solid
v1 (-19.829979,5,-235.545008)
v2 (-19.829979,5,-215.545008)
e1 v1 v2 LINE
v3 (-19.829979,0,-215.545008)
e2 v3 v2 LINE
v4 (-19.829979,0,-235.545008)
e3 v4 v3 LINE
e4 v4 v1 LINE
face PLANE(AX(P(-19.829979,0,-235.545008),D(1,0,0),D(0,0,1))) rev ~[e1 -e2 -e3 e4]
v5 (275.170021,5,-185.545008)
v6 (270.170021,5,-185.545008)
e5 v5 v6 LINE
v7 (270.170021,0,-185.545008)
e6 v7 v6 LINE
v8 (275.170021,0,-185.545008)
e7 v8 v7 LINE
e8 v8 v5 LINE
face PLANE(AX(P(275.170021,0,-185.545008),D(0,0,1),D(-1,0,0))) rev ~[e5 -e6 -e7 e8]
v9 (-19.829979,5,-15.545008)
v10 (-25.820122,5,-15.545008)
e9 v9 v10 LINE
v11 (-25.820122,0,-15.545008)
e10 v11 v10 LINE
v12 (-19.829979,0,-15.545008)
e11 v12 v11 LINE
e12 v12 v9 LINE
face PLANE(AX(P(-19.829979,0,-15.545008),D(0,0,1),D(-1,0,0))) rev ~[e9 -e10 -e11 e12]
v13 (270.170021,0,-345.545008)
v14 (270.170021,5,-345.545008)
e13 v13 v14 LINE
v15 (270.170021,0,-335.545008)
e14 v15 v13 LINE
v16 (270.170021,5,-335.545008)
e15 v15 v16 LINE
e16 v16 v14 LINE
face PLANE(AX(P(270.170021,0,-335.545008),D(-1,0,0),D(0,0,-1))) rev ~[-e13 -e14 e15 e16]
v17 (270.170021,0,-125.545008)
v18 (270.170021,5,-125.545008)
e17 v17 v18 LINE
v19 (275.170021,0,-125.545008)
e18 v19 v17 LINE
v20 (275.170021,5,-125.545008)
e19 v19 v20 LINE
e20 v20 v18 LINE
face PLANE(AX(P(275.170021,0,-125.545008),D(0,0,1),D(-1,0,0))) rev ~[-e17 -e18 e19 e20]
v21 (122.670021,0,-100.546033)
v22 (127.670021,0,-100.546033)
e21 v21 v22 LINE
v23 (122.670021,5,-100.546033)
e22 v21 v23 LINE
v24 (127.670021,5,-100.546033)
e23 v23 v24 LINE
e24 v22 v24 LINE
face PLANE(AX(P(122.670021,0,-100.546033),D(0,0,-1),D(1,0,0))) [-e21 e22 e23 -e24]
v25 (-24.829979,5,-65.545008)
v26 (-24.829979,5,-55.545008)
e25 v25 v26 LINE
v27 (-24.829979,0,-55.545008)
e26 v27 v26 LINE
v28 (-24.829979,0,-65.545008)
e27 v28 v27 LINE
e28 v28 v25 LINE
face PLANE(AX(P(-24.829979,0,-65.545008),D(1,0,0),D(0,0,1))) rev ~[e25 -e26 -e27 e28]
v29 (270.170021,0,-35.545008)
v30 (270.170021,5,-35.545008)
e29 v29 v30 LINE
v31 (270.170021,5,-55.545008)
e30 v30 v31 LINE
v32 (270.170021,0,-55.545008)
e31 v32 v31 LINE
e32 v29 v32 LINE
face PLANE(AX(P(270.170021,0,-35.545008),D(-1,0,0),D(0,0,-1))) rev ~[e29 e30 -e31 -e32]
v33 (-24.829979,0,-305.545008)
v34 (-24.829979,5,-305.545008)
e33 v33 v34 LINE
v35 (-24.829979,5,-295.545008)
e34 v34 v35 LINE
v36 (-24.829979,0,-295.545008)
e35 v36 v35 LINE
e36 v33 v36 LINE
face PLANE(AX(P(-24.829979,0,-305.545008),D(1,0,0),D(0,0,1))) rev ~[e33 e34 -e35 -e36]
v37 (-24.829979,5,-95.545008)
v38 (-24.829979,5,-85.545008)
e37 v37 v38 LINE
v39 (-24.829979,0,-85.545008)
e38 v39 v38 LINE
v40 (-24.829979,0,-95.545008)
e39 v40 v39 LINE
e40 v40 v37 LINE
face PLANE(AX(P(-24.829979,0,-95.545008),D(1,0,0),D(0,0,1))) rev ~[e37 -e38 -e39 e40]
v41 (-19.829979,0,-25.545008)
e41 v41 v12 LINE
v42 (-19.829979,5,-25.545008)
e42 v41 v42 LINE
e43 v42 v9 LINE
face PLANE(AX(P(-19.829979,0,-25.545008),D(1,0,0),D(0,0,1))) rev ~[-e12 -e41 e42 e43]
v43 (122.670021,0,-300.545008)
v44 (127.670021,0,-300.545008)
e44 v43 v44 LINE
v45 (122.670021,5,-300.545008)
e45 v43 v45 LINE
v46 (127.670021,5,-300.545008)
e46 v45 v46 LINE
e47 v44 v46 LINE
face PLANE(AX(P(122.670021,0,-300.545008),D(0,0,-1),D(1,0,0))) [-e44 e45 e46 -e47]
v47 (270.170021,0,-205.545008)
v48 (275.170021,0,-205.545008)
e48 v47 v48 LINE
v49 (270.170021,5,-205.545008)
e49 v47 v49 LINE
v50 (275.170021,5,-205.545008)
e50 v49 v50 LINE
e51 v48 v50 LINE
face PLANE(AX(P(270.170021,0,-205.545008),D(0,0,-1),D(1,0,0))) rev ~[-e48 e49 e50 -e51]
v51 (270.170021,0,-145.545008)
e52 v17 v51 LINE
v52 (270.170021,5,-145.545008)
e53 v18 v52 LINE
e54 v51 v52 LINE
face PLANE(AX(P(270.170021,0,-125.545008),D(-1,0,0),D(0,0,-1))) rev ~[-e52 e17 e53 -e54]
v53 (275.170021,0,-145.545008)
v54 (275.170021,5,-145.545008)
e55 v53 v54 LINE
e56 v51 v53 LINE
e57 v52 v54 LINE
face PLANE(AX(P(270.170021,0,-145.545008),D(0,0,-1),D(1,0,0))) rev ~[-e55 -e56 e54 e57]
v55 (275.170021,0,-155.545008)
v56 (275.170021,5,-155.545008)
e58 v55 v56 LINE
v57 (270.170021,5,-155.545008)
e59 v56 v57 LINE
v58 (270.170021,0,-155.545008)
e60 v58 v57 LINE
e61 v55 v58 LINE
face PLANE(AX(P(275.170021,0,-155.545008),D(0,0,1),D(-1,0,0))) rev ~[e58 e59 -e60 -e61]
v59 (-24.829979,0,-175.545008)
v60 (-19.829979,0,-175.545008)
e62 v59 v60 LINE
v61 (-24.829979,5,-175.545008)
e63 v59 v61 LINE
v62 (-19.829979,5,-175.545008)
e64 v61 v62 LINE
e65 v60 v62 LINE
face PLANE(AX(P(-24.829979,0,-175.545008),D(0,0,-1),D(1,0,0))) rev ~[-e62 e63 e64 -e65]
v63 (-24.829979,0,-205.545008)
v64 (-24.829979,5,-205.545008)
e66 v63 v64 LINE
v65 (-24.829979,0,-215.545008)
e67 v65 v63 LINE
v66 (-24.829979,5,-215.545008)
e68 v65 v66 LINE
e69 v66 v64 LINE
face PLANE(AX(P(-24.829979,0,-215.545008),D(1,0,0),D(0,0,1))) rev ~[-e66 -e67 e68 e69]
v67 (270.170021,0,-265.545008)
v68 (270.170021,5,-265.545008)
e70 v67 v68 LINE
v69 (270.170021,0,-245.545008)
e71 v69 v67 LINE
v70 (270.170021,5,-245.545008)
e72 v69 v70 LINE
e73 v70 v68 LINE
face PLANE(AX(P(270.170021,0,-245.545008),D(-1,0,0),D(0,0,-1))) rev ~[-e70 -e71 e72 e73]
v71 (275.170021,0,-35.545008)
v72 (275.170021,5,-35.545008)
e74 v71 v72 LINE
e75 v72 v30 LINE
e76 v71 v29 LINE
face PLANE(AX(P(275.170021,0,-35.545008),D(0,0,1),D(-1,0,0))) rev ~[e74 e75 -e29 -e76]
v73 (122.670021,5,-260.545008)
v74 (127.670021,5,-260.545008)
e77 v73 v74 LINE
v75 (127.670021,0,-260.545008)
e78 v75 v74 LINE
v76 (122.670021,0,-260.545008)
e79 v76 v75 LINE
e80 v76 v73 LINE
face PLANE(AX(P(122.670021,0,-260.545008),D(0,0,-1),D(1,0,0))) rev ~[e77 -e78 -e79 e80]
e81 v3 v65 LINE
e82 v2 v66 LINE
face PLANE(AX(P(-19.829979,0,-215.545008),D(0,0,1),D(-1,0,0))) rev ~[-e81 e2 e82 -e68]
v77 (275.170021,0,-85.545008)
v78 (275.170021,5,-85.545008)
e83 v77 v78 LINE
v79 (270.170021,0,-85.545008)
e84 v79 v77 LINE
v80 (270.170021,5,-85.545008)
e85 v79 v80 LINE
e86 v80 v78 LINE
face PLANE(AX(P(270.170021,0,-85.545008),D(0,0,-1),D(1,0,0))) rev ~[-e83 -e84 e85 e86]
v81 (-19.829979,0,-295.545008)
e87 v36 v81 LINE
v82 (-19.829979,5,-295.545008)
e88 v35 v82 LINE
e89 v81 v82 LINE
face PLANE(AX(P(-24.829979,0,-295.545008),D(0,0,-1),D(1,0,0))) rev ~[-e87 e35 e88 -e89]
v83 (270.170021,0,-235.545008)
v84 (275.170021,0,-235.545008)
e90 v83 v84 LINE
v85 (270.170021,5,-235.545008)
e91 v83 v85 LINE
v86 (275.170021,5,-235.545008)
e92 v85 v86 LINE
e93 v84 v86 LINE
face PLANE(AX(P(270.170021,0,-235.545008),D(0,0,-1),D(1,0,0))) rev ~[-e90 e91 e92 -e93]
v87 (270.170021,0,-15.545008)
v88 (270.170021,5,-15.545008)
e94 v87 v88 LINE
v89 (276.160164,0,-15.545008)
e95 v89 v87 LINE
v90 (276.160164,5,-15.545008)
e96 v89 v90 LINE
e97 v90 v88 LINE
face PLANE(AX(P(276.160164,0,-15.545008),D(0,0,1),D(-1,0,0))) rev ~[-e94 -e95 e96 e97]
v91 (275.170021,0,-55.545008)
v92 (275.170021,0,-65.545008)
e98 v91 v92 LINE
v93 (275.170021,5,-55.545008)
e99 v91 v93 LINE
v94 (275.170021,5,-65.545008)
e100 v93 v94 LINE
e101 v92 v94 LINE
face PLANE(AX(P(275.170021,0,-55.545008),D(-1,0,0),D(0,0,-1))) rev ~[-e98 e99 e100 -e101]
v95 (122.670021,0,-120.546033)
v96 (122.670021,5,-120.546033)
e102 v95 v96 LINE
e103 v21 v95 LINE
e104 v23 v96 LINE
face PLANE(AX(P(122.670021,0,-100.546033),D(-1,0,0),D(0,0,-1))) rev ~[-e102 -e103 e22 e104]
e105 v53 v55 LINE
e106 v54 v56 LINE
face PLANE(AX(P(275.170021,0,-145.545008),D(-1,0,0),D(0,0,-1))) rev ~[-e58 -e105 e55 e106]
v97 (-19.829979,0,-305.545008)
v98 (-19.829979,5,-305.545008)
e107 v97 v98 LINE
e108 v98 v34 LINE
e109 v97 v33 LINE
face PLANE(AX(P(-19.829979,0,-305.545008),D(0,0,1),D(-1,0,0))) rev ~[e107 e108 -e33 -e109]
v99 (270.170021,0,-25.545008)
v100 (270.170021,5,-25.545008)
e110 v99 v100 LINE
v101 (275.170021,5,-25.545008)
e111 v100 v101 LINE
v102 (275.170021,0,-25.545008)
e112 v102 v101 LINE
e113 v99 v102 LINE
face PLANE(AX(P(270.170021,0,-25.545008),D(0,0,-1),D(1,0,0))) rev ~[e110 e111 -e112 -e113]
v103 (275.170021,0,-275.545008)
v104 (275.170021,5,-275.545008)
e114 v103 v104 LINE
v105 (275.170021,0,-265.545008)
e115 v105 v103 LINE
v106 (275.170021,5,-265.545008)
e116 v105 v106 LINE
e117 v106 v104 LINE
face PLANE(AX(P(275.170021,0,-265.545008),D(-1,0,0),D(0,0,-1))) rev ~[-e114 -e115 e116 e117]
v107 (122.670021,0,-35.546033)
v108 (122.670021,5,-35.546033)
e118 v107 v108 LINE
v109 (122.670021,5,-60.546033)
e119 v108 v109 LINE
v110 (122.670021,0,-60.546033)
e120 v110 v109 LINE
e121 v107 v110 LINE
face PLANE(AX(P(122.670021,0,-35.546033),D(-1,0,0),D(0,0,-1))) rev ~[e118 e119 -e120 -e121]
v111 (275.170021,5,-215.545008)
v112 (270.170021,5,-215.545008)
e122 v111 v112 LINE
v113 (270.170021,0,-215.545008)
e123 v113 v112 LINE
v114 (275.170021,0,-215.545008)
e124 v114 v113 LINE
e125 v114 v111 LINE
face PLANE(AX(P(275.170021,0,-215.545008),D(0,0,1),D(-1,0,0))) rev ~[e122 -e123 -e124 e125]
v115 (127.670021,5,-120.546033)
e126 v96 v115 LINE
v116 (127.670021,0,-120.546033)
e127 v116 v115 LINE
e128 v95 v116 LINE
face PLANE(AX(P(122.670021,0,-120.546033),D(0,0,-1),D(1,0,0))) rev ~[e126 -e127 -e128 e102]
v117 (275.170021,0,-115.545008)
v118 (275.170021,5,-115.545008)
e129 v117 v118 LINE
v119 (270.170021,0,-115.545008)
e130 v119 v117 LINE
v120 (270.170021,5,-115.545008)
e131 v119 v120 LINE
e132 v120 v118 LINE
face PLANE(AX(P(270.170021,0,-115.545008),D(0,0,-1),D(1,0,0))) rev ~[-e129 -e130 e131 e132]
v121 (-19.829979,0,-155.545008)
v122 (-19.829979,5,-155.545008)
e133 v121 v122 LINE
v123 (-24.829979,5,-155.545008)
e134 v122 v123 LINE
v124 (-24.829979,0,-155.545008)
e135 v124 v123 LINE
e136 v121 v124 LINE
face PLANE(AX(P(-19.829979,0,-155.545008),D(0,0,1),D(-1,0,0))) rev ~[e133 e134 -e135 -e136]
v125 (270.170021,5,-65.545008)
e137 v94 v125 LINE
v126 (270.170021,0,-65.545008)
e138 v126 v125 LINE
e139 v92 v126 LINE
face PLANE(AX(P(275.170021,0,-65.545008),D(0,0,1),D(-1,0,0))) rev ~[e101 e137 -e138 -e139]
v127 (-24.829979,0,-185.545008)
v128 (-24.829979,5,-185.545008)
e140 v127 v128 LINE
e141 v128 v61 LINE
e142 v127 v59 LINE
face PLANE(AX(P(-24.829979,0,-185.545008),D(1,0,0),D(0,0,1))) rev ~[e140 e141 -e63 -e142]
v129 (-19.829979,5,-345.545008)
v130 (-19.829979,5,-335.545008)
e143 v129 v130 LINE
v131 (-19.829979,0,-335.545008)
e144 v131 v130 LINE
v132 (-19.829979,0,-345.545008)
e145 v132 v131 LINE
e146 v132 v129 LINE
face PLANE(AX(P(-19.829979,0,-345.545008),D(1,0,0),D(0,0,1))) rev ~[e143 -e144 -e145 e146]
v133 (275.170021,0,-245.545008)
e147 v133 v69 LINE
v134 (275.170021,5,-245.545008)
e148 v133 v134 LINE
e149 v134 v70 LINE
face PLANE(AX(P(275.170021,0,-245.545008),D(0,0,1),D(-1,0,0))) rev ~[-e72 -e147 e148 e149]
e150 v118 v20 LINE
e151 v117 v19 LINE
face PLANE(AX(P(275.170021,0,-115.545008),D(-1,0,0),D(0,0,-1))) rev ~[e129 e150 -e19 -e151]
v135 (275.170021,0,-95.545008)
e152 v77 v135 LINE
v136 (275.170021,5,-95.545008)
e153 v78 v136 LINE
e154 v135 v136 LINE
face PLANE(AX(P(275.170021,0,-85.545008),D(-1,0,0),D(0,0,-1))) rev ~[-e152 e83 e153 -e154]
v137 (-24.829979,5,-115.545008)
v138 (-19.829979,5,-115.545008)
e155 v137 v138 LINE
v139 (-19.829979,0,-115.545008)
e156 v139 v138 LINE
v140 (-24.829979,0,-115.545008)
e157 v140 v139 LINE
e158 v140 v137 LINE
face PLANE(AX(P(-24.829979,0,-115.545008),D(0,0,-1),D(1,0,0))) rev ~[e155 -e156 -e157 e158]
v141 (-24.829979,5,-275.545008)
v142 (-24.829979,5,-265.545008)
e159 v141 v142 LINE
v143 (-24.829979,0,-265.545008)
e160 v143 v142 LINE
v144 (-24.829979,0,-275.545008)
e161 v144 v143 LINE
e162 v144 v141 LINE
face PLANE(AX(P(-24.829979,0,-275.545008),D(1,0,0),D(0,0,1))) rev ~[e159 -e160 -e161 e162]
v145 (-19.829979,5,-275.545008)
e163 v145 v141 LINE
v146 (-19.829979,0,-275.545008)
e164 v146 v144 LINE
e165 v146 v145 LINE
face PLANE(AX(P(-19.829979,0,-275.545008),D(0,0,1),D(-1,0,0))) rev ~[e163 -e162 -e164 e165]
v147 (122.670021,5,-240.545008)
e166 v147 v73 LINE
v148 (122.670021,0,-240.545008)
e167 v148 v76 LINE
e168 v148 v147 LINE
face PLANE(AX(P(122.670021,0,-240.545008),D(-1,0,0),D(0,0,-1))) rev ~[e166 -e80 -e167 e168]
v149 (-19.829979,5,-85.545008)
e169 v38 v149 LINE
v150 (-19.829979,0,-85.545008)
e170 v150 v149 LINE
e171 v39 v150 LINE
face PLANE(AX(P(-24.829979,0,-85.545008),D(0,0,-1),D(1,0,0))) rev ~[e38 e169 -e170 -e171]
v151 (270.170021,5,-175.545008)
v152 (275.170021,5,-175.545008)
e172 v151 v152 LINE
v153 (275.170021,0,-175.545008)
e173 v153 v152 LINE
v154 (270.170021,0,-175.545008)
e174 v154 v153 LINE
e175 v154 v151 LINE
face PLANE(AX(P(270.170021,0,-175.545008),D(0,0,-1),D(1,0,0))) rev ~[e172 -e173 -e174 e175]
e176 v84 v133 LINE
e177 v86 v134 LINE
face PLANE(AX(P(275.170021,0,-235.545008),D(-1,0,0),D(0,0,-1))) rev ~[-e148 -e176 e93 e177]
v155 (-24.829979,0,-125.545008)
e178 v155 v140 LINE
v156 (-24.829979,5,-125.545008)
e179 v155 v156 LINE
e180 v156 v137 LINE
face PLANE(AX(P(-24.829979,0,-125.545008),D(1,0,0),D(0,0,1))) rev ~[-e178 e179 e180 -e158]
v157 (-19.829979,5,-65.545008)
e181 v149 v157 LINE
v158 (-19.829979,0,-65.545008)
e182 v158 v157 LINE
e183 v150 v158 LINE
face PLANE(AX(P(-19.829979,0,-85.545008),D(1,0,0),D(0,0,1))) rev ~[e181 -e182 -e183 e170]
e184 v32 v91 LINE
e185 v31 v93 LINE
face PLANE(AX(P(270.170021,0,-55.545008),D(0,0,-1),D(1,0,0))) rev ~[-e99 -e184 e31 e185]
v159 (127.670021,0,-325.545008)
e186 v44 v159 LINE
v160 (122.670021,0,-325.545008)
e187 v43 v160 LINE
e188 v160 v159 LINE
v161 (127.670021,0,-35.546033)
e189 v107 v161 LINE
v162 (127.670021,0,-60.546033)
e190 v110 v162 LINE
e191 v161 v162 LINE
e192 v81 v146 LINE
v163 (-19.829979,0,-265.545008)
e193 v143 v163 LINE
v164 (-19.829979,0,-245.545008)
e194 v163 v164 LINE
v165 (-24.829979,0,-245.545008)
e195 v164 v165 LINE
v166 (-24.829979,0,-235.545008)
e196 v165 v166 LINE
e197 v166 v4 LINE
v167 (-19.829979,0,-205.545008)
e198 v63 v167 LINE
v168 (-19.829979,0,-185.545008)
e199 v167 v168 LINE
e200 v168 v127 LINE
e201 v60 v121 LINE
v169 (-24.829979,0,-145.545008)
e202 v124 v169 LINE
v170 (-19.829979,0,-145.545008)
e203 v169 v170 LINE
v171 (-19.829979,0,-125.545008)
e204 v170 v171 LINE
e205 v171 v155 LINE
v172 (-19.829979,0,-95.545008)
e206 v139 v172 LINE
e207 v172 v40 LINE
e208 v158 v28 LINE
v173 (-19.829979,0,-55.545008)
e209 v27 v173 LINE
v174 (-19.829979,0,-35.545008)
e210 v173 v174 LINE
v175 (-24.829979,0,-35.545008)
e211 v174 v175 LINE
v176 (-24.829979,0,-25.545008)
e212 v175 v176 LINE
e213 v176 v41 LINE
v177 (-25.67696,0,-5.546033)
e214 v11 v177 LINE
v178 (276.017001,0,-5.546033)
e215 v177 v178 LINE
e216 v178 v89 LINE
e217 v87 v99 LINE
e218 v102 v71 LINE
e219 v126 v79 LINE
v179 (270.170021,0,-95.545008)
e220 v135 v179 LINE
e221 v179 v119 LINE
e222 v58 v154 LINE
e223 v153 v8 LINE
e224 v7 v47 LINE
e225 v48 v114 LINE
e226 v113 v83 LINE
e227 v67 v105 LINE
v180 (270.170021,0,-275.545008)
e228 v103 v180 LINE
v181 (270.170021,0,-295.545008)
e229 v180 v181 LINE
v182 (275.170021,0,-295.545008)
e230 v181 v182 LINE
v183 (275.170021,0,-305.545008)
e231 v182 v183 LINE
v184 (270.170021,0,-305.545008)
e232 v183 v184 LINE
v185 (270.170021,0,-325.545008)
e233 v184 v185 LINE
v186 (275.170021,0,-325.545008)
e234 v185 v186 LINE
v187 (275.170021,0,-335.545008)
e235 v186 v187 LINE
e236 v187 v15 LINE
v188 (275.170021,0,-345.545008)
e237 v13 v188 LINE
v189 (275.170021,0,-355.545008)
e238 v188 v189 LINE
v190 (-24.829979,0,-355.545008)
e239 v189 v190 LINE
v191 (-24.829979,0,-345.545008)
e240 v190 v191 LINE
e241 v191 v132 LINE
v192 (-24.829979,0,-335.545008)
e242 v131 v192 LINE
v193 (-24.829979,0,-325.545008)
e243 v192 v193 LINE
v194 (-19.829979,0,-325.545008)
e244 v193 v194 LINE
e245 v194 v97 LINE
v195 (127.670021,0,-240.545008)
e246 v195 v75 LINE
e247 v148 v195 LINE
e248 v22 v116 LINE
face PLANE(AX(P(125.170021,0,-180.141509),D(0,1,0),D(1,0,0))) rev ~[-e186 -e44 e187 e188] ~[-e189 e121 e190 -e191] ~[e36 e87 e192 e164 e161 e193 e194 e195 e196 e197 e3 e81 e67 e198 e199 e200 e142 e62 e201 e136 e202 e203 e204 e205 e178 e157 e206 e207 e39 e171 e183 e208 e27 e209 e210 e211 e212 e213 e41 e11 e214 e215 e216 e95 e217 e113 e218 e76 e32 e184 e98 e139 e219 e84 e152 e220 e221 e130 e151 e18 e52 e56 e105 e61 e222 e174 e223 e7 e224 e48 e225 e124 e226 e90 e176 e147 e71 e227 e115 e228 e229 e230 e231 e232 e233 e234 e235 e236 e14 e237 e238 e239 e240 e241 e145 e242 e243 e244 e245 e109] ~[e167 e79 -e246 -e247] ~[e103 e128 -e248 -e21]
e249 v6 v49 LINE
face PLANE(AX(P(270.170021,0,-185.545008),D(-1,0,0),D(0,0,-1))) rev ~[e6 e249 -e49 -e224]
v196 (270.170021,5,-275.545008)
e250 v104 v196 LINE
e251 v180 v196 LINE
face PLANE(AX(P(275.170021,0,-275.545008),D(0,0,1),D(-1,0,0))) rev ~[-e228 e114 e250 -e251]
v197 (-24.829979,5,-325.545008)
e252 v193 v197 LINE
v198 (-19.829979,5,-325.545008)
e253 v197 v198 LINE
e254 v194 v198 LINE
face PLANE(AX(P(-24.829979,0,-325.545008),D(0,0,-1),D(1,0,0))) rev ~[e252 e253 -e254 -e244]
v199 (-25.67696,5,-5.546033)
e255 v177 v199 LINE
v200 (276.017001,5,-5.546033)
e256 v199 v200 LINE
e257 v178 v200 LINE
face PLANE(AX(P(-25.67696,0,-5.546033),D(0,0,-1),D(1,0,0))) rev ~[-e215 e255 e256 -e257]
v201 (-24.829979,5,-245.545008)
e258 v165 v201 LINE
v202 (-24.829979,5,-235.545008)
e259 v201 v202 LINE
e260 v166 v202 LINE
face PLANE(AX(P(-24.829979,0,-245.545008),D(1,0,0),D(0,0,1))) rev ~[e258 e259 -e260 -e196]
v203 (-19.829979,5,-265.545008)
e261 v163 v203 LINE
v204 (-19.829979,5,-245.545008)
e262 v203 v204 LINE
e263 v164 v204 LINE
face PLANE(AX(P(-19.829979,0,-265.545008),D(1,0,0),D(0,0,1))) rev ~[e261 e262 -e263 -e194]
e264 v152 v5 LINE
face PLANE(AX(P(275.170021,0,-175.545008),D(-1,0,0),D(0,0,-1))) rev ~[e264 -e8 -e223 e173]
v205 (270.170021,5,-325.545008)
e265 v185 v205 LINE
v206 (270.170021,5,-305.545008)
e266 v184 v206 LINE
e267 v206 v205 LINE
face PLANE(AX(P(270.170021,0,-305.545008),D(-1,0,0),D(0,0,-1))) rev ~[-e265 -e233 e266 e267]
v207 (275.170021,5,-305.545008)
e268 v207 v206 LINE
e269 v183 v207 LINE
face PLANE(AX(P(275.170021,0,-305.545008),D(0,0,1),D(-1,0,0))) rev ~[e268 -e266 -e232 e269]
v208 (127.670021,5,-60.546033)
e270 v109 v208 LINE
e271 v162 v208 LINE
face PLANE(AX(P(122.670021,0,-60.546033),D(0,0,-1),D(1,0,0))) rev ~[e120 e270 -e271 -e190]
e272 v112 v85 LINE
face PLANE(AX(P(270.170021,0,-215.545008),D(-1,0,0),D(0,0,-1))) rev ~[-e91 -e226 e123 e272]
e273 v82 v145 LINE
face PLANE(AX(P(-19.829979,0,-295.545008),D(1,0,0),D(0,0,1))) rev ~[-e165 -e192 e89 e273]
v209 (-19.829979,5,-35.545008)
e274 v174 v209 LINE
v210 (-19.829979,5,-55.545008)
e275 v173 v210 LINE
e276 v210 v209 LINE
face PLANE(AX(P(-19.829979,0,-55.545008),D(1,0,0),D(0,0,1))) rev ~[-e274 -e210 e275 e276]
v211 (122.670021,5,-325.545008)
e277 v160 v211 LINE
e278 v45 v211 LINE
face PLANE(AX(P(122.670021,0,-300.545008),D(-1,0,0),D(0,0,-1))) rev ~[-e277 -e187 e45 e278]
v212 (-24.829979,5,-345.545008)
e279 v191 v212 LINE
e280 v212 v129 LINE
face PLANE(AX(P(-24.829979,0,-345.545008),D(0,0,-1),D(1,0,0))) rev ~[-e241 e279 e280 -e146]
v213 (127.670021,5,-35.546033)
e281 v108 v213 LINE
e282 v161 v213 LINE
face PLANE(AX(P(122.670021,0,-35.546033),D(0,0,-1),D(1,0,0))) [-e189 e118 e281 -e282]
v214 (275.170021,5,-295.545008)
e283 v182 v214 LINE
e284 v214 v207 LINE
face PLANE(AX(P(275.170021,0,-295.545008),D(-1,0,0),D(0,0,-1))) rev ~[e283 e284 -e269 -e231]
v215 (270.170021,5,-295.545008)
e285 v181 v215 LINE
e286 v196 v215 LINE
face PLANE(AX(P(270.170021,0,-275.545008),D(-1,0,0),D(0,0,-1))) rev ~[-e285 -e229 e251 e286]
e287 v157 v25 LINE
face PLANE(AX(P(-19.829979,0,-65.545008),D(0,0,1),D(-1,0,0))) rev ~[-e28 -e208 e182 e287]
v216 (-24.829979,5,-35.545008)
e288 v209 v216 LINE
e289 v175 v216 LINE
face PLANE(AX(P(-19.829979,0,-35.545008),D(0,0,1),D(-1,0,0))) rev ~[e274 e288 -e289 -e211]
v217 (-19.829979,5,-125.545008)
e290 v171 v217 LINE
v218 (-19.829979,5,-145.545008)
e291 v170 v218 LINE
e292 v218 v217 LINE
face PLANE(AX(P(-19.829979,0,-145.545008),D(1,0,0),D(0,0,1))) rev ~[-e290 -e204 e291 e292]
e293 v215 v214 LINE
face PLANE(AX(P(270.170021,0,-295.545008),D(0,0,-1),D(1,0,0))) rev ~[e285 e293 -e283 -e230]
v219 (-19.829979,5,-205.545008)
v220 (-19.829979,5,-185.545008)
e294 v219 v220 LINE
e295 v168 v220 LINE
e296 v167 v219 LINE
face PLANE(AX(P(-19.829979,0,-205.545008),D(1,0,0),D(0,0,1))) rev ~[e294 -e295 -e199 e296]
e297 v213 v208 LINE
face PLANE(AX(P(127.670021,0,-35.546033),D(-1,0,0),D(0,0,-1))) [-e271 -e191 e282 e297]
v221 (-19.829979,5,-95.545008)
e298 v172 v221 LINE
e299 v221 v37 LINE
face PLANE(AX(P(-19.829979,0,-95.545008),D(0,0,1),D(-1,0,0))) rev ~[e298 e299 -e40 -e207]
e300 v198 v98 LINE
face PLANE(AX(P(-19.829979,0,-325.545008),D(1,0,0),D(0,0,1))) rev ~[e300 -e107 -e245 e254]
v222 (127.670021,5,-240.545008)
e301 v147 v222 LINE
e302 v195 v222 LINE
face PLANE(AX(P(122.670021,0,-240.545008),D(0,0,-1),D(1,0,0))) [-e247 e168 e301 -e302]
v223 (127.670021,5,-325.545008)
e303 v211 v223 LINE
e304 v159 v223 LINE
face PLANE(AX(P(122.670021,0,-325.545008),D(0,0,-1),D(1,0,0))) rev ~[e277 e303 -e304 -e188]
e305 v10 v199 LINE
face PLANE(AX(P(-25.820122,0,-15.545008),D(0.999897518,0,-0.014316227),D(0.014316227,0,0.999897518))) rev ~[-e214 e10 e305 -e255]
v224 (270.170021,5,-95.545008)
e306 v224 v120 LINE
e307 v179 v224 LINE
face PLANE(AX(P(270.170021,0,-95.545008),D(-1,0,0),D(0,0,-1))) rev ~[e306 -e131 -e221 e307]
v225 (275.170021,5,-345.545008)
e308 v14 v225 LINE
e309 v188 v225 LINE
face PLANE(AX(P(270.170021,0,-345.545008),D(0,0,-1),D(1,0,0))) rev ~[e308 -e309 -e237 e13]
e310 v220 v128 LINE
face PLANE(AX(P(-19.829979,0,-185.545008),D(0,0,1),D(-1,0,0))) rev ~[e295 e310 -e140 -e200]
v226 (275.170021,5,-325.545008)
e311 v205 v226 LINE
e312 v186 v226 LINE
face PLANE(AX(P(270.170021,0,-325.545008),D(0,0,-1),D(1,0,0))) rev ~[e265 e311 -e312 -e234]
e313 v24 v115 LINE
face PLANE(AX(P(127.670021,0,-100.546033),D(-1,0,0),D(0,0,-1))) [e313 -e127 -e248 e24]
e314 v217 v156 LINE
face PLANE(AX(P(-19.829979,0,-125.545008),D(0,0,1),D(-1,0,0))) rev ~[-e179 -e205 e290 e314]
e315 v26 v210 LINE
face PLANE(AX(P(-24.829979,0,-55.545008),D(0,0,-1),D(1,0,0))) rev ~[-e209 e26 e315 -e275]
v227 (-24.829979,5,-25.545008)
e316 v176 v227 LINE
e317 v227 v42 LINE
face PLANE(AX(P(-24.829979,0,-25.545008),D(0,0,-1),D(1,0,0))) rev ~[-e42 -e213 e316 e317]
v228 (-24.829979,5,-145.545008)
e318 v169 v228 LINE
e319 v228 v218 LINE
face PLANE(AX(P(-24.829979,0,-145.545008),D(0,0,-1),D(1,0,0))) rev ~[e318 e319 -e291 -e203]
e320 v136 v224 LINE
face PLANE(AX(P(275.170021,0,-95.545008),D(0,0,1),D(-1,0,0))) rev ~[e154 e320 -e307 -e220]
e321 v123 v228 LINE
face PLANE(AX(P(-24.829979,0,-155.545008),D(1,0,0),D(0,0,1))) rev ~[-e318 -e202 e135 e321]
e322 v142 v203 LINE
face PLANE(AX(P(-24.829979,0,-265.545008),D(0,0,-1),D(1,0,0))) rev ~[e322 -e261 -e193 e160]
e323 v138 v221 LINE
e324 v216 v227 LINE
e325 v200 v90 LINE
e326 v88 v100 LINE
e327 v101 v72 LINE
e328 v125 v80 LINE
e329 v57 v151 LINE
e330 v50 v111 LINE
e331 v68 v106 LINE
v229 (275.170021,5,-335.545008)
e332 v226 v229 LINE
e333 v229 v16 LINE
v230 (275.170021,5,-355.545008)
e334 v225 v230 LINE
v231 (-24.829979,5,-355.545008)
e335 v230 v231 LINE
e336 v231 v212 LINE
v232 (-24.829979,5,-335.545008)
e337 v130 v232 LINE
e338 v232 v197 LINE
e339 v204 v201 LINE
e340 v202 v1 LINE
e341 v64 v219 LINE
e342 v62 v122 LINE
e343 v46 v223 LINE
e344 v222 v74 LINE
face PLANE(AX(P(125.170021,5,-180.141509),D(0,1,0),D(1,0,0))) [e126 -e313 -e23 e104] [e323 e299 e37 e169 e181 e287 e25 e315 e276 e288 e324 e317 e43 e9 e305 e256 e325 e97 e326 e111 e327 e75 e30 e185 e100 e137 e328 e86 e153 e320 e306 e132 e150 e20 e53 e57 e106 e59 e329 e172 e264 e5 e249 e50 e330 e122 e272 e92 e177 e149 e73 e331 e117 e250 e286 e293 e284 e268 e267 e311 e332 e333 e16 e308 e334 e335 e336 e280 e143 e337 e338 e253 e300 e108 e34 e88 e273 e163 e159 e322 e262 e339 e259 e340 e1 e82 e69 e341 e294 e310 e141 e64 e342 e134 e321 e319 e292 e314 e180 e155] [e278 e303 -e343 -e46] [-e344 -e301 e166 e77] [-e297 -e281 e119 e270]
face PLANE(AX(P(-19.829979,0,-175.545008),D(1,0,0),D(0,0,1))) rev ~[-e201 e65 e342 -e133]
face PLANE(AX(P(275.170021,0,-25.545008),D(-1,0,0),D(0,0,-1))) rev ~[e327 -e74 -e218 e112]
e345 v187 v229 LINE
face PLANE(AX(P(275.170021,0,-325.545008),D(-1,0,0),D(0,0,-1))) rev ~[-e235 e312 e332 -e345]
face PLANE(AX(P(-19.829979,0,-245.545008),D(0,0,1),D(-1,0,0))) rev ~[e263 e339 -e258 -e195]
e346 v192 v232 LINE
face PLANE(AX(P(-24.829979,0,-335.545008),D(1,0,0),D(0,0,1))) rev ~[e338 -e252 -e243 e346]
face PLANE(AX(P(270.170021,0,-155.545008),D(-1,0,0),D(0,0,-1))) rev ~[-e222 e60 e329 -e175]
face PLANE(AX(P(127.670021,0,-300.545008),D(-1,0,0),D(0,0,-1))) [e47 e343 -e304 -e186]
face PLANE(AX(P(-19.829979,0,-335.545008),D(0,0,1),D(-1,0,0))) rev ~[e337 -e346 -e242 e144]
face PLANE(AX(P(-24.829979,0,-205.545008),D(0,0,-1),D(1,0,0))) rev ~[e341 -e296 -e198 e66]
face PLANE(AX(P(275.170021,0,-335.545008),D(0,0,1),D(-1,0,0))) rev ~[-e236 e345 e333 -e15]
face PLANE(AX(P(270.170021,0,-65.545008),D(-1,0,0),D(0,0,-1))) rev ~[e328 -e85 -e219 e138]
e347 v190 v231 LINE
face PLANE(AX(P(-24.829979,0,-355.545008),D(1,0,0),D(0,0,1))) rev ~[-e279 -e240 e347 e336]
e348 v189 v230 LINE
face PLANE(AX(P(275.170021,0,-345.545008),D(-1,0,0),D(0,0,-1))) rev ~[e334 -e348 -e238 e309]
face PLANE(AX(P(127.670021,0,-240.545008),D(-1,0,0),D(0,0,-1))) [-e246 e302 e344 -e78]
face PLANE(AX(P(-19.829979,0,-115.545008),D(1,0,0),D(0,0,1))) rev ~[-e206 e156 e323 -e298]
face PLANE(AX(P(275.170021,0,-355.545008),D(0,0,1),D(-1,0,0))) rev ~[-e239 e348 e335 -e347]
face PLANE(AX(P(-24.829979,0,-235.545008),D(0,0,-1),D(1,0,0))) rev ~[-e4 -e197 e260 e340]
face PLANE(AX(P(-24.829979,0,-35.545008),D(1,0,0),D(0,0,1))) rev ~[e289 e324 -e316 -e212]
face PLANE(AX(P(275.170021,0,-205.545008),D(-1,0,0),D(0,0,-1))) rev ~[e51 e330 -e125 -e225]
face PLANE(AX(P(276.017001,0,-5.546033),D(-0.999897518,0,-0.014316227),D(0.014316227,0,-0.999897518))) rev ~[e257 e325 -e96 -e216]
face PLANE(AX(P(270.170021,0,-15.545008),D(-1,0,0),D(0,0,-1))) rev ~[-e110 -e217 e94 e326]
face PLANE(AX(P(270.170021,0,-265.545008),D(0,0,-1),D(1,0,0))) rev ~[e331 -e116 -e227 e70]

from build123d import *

# Parameters (mm, degrees)
SKETCH1_W           = 5
SKETCH1_H           = 25
SKETCH1_H_2         = 20
BOSS_EXTRUDE2_DEPTH = 5


with BuildPart() as part:
    # Sketch1 → Boss-Extrude2 (new body)
    with BuildSketch(Plane(origin=(0, 0, 0), x_dir=(1, 0, 0), z_dir=(0, 1, 0))):
        Polygon((-24.829979235, 345.545008259), (-19.829979235, 345.545008259), (-19.829979235, 335.545008259), (-24.829979235, 335.545008259), (-24.829979235, 325.545008259), (-19.829979235, 325.545008259), (-19.829979235, 315.545008259), (-19.829979235, 305.545008259), (-24.829979235, 305.545008259), (-24.829979235, 295.545008259), (-19.829979235, 295.545008259), (-19.829979235, 285.545008259), (-19.829979235, 275.545008259), (-24.829979235, 275.545008259), (-24.829979235, 265.545008259), (-19.829979235, 265.545008259), (-19.829979235, 255.545008259), (-19.829979235, 245.545008259), (-24.829979235, 245.545008259), (-24.829979235, 235.545008259), (-19.829979235, 235.545008259), (-19.829979235, 225.545008259), (-19.829979235, 215.545008259), (-24.829979235, 215.545008259), (-24.829979235, 205.545008259), (-19.829979235, 205.545008259), (-19.829979235, 195.545008259), (-19.829979235, 185.545008259), (-24.829979235, 185.545008259), (-24.829979235, 175.545008259), (-19.829979235, 175.545008259), (-19.829979235, 165.545008259), (-19.829979235, 155.545008259), (-24.829979235, 155.545008259), (-24.829979235, 145.545008259), (-19.829979235, 145.545008259), (-19.829979235, 135.545008259), (-19.829979235, 125.545008259), (-24.829979235, 125.545008259), (-24.829979235, 115.545008259), (-19.829979235, 115.545008259), (-19.829979235, 105.545008259), (-19.829979235, 95.545008259), (-24.829979235, 95.545008259), (-24.829979235, 85.545008259), (-19.829979235, 85.545008259), (-19.829979235, 75.545008259), (-19.829979235, 65.545008259), (-24.829979235, 65.545008259), (-24.829979235, 55.545008259), (-19.829979235, 55.545008259), (-19.829979235, 45.545008259), (-19.829979235, 35.545008259), (-24.829979235, 35.545008259), (-24.829979235, 25.545008259), (-19.829979235, 25.545008259), (-19.829979235, 15.545008259), (-25.820121993, 15.545008259), (-25.676959723, 5.546033083), (276.017001253, 5.546033083), (276.160163523, 15.545008259), (270.170020765, 15.545008259), (270.170020765, 25.545008259), (275.170020765, 25.545008259), (275.170020765, 35.545008259), (270.170020765, 35.545008259), (270.170020765, 45.545008259), (270.170020765, 55.545008259), (275.170020765, 55.545008259), (275.170020765, 65.545008259), (270.170020765, 65.545008259), (270.170020765, 75.545008259), (270.170020765, 85.545008259), (275.170020765, 85.545008259), (275.170020765, 95.545008259), (270.170020765, 95.545008259), (270.170020765, 105.545008259), (270.170020765, 115.545008259), (275.170020765, 115.545008259), (275.170020765, 125.545008259), (270.170020765, 125.545008259), (270.170020765, 135.545008259), (270.170020765, 145.545008259), (275.170020765, 145.545008259), (275.170020765, 155.545008259), (270.170020765, 155.545008259), (270.170020765, 165.545008259), (270.170020765, 175.545008259), (275.170020765, 175.545008259), (275.170020765, 185.545008259), (270.170020765, 185.545008259), (270.170020765, 195.545008259), (270.170020765, 205.545008259), (275.170020765, 205.545008259), (275.170020765, 215.545008259), (270.170020765, 215.545008259), (270.170020765, 225.545008259), (270.170020765, 235.545008259), (275.170020765, 235.545008259), (275.170020765, 245.545008259), (270.170020765, 245.545008259), (270.170020765, 255.545008259), (270.170020765, 265.545008259), (275.170020765, 265.545008259), (275.170020765, 275.545008259), (270.170020765, 275.545008259), (270.170020765, 285.545008259), (270.170020765, 295.545008259), (275.170020765, 295.545008259), (275.170020765, 305.545008259), (270.170020765, 305.545008259), (270.170020765, 315.545008259), (270.170020765, 325.545008259), (275.170020765, 325.545008259), (275.170020765, 335.545008259), (270.170020765, 335.545008259), (270.170020765, 345.545008259), (275.170020765, 345.545008259), (275.170020765, 355.545008259), (-24.829979235, 355.545008259), align=None)
        with Locations((125.170020765, 313.045008259)):
            Rectangle(SKETCH1_W, SKETCH1_H, mode=Mode.SUBTRACT)
        with Locations((125.170020765, 48.046033083)):
            Rectangle(SKETCH1_W, SKETCH1_H, mode=Mode.SUBTRACT)
        with Locations((125.170020765, 250.545008259)):
            Rectangle(SKETCH1_W, SKETCH1_H_2, mode=Mode.SUBTRACT)
        with Locations((125.170020765, 110.546033083)):
            Rectangle(SKETCH1_W, SKETCH1_H_2, mode=Mode.SUBTRACT)
    extrude(amount=BOSS_EXTRUDE2_DEPTH)


solid = part.part
